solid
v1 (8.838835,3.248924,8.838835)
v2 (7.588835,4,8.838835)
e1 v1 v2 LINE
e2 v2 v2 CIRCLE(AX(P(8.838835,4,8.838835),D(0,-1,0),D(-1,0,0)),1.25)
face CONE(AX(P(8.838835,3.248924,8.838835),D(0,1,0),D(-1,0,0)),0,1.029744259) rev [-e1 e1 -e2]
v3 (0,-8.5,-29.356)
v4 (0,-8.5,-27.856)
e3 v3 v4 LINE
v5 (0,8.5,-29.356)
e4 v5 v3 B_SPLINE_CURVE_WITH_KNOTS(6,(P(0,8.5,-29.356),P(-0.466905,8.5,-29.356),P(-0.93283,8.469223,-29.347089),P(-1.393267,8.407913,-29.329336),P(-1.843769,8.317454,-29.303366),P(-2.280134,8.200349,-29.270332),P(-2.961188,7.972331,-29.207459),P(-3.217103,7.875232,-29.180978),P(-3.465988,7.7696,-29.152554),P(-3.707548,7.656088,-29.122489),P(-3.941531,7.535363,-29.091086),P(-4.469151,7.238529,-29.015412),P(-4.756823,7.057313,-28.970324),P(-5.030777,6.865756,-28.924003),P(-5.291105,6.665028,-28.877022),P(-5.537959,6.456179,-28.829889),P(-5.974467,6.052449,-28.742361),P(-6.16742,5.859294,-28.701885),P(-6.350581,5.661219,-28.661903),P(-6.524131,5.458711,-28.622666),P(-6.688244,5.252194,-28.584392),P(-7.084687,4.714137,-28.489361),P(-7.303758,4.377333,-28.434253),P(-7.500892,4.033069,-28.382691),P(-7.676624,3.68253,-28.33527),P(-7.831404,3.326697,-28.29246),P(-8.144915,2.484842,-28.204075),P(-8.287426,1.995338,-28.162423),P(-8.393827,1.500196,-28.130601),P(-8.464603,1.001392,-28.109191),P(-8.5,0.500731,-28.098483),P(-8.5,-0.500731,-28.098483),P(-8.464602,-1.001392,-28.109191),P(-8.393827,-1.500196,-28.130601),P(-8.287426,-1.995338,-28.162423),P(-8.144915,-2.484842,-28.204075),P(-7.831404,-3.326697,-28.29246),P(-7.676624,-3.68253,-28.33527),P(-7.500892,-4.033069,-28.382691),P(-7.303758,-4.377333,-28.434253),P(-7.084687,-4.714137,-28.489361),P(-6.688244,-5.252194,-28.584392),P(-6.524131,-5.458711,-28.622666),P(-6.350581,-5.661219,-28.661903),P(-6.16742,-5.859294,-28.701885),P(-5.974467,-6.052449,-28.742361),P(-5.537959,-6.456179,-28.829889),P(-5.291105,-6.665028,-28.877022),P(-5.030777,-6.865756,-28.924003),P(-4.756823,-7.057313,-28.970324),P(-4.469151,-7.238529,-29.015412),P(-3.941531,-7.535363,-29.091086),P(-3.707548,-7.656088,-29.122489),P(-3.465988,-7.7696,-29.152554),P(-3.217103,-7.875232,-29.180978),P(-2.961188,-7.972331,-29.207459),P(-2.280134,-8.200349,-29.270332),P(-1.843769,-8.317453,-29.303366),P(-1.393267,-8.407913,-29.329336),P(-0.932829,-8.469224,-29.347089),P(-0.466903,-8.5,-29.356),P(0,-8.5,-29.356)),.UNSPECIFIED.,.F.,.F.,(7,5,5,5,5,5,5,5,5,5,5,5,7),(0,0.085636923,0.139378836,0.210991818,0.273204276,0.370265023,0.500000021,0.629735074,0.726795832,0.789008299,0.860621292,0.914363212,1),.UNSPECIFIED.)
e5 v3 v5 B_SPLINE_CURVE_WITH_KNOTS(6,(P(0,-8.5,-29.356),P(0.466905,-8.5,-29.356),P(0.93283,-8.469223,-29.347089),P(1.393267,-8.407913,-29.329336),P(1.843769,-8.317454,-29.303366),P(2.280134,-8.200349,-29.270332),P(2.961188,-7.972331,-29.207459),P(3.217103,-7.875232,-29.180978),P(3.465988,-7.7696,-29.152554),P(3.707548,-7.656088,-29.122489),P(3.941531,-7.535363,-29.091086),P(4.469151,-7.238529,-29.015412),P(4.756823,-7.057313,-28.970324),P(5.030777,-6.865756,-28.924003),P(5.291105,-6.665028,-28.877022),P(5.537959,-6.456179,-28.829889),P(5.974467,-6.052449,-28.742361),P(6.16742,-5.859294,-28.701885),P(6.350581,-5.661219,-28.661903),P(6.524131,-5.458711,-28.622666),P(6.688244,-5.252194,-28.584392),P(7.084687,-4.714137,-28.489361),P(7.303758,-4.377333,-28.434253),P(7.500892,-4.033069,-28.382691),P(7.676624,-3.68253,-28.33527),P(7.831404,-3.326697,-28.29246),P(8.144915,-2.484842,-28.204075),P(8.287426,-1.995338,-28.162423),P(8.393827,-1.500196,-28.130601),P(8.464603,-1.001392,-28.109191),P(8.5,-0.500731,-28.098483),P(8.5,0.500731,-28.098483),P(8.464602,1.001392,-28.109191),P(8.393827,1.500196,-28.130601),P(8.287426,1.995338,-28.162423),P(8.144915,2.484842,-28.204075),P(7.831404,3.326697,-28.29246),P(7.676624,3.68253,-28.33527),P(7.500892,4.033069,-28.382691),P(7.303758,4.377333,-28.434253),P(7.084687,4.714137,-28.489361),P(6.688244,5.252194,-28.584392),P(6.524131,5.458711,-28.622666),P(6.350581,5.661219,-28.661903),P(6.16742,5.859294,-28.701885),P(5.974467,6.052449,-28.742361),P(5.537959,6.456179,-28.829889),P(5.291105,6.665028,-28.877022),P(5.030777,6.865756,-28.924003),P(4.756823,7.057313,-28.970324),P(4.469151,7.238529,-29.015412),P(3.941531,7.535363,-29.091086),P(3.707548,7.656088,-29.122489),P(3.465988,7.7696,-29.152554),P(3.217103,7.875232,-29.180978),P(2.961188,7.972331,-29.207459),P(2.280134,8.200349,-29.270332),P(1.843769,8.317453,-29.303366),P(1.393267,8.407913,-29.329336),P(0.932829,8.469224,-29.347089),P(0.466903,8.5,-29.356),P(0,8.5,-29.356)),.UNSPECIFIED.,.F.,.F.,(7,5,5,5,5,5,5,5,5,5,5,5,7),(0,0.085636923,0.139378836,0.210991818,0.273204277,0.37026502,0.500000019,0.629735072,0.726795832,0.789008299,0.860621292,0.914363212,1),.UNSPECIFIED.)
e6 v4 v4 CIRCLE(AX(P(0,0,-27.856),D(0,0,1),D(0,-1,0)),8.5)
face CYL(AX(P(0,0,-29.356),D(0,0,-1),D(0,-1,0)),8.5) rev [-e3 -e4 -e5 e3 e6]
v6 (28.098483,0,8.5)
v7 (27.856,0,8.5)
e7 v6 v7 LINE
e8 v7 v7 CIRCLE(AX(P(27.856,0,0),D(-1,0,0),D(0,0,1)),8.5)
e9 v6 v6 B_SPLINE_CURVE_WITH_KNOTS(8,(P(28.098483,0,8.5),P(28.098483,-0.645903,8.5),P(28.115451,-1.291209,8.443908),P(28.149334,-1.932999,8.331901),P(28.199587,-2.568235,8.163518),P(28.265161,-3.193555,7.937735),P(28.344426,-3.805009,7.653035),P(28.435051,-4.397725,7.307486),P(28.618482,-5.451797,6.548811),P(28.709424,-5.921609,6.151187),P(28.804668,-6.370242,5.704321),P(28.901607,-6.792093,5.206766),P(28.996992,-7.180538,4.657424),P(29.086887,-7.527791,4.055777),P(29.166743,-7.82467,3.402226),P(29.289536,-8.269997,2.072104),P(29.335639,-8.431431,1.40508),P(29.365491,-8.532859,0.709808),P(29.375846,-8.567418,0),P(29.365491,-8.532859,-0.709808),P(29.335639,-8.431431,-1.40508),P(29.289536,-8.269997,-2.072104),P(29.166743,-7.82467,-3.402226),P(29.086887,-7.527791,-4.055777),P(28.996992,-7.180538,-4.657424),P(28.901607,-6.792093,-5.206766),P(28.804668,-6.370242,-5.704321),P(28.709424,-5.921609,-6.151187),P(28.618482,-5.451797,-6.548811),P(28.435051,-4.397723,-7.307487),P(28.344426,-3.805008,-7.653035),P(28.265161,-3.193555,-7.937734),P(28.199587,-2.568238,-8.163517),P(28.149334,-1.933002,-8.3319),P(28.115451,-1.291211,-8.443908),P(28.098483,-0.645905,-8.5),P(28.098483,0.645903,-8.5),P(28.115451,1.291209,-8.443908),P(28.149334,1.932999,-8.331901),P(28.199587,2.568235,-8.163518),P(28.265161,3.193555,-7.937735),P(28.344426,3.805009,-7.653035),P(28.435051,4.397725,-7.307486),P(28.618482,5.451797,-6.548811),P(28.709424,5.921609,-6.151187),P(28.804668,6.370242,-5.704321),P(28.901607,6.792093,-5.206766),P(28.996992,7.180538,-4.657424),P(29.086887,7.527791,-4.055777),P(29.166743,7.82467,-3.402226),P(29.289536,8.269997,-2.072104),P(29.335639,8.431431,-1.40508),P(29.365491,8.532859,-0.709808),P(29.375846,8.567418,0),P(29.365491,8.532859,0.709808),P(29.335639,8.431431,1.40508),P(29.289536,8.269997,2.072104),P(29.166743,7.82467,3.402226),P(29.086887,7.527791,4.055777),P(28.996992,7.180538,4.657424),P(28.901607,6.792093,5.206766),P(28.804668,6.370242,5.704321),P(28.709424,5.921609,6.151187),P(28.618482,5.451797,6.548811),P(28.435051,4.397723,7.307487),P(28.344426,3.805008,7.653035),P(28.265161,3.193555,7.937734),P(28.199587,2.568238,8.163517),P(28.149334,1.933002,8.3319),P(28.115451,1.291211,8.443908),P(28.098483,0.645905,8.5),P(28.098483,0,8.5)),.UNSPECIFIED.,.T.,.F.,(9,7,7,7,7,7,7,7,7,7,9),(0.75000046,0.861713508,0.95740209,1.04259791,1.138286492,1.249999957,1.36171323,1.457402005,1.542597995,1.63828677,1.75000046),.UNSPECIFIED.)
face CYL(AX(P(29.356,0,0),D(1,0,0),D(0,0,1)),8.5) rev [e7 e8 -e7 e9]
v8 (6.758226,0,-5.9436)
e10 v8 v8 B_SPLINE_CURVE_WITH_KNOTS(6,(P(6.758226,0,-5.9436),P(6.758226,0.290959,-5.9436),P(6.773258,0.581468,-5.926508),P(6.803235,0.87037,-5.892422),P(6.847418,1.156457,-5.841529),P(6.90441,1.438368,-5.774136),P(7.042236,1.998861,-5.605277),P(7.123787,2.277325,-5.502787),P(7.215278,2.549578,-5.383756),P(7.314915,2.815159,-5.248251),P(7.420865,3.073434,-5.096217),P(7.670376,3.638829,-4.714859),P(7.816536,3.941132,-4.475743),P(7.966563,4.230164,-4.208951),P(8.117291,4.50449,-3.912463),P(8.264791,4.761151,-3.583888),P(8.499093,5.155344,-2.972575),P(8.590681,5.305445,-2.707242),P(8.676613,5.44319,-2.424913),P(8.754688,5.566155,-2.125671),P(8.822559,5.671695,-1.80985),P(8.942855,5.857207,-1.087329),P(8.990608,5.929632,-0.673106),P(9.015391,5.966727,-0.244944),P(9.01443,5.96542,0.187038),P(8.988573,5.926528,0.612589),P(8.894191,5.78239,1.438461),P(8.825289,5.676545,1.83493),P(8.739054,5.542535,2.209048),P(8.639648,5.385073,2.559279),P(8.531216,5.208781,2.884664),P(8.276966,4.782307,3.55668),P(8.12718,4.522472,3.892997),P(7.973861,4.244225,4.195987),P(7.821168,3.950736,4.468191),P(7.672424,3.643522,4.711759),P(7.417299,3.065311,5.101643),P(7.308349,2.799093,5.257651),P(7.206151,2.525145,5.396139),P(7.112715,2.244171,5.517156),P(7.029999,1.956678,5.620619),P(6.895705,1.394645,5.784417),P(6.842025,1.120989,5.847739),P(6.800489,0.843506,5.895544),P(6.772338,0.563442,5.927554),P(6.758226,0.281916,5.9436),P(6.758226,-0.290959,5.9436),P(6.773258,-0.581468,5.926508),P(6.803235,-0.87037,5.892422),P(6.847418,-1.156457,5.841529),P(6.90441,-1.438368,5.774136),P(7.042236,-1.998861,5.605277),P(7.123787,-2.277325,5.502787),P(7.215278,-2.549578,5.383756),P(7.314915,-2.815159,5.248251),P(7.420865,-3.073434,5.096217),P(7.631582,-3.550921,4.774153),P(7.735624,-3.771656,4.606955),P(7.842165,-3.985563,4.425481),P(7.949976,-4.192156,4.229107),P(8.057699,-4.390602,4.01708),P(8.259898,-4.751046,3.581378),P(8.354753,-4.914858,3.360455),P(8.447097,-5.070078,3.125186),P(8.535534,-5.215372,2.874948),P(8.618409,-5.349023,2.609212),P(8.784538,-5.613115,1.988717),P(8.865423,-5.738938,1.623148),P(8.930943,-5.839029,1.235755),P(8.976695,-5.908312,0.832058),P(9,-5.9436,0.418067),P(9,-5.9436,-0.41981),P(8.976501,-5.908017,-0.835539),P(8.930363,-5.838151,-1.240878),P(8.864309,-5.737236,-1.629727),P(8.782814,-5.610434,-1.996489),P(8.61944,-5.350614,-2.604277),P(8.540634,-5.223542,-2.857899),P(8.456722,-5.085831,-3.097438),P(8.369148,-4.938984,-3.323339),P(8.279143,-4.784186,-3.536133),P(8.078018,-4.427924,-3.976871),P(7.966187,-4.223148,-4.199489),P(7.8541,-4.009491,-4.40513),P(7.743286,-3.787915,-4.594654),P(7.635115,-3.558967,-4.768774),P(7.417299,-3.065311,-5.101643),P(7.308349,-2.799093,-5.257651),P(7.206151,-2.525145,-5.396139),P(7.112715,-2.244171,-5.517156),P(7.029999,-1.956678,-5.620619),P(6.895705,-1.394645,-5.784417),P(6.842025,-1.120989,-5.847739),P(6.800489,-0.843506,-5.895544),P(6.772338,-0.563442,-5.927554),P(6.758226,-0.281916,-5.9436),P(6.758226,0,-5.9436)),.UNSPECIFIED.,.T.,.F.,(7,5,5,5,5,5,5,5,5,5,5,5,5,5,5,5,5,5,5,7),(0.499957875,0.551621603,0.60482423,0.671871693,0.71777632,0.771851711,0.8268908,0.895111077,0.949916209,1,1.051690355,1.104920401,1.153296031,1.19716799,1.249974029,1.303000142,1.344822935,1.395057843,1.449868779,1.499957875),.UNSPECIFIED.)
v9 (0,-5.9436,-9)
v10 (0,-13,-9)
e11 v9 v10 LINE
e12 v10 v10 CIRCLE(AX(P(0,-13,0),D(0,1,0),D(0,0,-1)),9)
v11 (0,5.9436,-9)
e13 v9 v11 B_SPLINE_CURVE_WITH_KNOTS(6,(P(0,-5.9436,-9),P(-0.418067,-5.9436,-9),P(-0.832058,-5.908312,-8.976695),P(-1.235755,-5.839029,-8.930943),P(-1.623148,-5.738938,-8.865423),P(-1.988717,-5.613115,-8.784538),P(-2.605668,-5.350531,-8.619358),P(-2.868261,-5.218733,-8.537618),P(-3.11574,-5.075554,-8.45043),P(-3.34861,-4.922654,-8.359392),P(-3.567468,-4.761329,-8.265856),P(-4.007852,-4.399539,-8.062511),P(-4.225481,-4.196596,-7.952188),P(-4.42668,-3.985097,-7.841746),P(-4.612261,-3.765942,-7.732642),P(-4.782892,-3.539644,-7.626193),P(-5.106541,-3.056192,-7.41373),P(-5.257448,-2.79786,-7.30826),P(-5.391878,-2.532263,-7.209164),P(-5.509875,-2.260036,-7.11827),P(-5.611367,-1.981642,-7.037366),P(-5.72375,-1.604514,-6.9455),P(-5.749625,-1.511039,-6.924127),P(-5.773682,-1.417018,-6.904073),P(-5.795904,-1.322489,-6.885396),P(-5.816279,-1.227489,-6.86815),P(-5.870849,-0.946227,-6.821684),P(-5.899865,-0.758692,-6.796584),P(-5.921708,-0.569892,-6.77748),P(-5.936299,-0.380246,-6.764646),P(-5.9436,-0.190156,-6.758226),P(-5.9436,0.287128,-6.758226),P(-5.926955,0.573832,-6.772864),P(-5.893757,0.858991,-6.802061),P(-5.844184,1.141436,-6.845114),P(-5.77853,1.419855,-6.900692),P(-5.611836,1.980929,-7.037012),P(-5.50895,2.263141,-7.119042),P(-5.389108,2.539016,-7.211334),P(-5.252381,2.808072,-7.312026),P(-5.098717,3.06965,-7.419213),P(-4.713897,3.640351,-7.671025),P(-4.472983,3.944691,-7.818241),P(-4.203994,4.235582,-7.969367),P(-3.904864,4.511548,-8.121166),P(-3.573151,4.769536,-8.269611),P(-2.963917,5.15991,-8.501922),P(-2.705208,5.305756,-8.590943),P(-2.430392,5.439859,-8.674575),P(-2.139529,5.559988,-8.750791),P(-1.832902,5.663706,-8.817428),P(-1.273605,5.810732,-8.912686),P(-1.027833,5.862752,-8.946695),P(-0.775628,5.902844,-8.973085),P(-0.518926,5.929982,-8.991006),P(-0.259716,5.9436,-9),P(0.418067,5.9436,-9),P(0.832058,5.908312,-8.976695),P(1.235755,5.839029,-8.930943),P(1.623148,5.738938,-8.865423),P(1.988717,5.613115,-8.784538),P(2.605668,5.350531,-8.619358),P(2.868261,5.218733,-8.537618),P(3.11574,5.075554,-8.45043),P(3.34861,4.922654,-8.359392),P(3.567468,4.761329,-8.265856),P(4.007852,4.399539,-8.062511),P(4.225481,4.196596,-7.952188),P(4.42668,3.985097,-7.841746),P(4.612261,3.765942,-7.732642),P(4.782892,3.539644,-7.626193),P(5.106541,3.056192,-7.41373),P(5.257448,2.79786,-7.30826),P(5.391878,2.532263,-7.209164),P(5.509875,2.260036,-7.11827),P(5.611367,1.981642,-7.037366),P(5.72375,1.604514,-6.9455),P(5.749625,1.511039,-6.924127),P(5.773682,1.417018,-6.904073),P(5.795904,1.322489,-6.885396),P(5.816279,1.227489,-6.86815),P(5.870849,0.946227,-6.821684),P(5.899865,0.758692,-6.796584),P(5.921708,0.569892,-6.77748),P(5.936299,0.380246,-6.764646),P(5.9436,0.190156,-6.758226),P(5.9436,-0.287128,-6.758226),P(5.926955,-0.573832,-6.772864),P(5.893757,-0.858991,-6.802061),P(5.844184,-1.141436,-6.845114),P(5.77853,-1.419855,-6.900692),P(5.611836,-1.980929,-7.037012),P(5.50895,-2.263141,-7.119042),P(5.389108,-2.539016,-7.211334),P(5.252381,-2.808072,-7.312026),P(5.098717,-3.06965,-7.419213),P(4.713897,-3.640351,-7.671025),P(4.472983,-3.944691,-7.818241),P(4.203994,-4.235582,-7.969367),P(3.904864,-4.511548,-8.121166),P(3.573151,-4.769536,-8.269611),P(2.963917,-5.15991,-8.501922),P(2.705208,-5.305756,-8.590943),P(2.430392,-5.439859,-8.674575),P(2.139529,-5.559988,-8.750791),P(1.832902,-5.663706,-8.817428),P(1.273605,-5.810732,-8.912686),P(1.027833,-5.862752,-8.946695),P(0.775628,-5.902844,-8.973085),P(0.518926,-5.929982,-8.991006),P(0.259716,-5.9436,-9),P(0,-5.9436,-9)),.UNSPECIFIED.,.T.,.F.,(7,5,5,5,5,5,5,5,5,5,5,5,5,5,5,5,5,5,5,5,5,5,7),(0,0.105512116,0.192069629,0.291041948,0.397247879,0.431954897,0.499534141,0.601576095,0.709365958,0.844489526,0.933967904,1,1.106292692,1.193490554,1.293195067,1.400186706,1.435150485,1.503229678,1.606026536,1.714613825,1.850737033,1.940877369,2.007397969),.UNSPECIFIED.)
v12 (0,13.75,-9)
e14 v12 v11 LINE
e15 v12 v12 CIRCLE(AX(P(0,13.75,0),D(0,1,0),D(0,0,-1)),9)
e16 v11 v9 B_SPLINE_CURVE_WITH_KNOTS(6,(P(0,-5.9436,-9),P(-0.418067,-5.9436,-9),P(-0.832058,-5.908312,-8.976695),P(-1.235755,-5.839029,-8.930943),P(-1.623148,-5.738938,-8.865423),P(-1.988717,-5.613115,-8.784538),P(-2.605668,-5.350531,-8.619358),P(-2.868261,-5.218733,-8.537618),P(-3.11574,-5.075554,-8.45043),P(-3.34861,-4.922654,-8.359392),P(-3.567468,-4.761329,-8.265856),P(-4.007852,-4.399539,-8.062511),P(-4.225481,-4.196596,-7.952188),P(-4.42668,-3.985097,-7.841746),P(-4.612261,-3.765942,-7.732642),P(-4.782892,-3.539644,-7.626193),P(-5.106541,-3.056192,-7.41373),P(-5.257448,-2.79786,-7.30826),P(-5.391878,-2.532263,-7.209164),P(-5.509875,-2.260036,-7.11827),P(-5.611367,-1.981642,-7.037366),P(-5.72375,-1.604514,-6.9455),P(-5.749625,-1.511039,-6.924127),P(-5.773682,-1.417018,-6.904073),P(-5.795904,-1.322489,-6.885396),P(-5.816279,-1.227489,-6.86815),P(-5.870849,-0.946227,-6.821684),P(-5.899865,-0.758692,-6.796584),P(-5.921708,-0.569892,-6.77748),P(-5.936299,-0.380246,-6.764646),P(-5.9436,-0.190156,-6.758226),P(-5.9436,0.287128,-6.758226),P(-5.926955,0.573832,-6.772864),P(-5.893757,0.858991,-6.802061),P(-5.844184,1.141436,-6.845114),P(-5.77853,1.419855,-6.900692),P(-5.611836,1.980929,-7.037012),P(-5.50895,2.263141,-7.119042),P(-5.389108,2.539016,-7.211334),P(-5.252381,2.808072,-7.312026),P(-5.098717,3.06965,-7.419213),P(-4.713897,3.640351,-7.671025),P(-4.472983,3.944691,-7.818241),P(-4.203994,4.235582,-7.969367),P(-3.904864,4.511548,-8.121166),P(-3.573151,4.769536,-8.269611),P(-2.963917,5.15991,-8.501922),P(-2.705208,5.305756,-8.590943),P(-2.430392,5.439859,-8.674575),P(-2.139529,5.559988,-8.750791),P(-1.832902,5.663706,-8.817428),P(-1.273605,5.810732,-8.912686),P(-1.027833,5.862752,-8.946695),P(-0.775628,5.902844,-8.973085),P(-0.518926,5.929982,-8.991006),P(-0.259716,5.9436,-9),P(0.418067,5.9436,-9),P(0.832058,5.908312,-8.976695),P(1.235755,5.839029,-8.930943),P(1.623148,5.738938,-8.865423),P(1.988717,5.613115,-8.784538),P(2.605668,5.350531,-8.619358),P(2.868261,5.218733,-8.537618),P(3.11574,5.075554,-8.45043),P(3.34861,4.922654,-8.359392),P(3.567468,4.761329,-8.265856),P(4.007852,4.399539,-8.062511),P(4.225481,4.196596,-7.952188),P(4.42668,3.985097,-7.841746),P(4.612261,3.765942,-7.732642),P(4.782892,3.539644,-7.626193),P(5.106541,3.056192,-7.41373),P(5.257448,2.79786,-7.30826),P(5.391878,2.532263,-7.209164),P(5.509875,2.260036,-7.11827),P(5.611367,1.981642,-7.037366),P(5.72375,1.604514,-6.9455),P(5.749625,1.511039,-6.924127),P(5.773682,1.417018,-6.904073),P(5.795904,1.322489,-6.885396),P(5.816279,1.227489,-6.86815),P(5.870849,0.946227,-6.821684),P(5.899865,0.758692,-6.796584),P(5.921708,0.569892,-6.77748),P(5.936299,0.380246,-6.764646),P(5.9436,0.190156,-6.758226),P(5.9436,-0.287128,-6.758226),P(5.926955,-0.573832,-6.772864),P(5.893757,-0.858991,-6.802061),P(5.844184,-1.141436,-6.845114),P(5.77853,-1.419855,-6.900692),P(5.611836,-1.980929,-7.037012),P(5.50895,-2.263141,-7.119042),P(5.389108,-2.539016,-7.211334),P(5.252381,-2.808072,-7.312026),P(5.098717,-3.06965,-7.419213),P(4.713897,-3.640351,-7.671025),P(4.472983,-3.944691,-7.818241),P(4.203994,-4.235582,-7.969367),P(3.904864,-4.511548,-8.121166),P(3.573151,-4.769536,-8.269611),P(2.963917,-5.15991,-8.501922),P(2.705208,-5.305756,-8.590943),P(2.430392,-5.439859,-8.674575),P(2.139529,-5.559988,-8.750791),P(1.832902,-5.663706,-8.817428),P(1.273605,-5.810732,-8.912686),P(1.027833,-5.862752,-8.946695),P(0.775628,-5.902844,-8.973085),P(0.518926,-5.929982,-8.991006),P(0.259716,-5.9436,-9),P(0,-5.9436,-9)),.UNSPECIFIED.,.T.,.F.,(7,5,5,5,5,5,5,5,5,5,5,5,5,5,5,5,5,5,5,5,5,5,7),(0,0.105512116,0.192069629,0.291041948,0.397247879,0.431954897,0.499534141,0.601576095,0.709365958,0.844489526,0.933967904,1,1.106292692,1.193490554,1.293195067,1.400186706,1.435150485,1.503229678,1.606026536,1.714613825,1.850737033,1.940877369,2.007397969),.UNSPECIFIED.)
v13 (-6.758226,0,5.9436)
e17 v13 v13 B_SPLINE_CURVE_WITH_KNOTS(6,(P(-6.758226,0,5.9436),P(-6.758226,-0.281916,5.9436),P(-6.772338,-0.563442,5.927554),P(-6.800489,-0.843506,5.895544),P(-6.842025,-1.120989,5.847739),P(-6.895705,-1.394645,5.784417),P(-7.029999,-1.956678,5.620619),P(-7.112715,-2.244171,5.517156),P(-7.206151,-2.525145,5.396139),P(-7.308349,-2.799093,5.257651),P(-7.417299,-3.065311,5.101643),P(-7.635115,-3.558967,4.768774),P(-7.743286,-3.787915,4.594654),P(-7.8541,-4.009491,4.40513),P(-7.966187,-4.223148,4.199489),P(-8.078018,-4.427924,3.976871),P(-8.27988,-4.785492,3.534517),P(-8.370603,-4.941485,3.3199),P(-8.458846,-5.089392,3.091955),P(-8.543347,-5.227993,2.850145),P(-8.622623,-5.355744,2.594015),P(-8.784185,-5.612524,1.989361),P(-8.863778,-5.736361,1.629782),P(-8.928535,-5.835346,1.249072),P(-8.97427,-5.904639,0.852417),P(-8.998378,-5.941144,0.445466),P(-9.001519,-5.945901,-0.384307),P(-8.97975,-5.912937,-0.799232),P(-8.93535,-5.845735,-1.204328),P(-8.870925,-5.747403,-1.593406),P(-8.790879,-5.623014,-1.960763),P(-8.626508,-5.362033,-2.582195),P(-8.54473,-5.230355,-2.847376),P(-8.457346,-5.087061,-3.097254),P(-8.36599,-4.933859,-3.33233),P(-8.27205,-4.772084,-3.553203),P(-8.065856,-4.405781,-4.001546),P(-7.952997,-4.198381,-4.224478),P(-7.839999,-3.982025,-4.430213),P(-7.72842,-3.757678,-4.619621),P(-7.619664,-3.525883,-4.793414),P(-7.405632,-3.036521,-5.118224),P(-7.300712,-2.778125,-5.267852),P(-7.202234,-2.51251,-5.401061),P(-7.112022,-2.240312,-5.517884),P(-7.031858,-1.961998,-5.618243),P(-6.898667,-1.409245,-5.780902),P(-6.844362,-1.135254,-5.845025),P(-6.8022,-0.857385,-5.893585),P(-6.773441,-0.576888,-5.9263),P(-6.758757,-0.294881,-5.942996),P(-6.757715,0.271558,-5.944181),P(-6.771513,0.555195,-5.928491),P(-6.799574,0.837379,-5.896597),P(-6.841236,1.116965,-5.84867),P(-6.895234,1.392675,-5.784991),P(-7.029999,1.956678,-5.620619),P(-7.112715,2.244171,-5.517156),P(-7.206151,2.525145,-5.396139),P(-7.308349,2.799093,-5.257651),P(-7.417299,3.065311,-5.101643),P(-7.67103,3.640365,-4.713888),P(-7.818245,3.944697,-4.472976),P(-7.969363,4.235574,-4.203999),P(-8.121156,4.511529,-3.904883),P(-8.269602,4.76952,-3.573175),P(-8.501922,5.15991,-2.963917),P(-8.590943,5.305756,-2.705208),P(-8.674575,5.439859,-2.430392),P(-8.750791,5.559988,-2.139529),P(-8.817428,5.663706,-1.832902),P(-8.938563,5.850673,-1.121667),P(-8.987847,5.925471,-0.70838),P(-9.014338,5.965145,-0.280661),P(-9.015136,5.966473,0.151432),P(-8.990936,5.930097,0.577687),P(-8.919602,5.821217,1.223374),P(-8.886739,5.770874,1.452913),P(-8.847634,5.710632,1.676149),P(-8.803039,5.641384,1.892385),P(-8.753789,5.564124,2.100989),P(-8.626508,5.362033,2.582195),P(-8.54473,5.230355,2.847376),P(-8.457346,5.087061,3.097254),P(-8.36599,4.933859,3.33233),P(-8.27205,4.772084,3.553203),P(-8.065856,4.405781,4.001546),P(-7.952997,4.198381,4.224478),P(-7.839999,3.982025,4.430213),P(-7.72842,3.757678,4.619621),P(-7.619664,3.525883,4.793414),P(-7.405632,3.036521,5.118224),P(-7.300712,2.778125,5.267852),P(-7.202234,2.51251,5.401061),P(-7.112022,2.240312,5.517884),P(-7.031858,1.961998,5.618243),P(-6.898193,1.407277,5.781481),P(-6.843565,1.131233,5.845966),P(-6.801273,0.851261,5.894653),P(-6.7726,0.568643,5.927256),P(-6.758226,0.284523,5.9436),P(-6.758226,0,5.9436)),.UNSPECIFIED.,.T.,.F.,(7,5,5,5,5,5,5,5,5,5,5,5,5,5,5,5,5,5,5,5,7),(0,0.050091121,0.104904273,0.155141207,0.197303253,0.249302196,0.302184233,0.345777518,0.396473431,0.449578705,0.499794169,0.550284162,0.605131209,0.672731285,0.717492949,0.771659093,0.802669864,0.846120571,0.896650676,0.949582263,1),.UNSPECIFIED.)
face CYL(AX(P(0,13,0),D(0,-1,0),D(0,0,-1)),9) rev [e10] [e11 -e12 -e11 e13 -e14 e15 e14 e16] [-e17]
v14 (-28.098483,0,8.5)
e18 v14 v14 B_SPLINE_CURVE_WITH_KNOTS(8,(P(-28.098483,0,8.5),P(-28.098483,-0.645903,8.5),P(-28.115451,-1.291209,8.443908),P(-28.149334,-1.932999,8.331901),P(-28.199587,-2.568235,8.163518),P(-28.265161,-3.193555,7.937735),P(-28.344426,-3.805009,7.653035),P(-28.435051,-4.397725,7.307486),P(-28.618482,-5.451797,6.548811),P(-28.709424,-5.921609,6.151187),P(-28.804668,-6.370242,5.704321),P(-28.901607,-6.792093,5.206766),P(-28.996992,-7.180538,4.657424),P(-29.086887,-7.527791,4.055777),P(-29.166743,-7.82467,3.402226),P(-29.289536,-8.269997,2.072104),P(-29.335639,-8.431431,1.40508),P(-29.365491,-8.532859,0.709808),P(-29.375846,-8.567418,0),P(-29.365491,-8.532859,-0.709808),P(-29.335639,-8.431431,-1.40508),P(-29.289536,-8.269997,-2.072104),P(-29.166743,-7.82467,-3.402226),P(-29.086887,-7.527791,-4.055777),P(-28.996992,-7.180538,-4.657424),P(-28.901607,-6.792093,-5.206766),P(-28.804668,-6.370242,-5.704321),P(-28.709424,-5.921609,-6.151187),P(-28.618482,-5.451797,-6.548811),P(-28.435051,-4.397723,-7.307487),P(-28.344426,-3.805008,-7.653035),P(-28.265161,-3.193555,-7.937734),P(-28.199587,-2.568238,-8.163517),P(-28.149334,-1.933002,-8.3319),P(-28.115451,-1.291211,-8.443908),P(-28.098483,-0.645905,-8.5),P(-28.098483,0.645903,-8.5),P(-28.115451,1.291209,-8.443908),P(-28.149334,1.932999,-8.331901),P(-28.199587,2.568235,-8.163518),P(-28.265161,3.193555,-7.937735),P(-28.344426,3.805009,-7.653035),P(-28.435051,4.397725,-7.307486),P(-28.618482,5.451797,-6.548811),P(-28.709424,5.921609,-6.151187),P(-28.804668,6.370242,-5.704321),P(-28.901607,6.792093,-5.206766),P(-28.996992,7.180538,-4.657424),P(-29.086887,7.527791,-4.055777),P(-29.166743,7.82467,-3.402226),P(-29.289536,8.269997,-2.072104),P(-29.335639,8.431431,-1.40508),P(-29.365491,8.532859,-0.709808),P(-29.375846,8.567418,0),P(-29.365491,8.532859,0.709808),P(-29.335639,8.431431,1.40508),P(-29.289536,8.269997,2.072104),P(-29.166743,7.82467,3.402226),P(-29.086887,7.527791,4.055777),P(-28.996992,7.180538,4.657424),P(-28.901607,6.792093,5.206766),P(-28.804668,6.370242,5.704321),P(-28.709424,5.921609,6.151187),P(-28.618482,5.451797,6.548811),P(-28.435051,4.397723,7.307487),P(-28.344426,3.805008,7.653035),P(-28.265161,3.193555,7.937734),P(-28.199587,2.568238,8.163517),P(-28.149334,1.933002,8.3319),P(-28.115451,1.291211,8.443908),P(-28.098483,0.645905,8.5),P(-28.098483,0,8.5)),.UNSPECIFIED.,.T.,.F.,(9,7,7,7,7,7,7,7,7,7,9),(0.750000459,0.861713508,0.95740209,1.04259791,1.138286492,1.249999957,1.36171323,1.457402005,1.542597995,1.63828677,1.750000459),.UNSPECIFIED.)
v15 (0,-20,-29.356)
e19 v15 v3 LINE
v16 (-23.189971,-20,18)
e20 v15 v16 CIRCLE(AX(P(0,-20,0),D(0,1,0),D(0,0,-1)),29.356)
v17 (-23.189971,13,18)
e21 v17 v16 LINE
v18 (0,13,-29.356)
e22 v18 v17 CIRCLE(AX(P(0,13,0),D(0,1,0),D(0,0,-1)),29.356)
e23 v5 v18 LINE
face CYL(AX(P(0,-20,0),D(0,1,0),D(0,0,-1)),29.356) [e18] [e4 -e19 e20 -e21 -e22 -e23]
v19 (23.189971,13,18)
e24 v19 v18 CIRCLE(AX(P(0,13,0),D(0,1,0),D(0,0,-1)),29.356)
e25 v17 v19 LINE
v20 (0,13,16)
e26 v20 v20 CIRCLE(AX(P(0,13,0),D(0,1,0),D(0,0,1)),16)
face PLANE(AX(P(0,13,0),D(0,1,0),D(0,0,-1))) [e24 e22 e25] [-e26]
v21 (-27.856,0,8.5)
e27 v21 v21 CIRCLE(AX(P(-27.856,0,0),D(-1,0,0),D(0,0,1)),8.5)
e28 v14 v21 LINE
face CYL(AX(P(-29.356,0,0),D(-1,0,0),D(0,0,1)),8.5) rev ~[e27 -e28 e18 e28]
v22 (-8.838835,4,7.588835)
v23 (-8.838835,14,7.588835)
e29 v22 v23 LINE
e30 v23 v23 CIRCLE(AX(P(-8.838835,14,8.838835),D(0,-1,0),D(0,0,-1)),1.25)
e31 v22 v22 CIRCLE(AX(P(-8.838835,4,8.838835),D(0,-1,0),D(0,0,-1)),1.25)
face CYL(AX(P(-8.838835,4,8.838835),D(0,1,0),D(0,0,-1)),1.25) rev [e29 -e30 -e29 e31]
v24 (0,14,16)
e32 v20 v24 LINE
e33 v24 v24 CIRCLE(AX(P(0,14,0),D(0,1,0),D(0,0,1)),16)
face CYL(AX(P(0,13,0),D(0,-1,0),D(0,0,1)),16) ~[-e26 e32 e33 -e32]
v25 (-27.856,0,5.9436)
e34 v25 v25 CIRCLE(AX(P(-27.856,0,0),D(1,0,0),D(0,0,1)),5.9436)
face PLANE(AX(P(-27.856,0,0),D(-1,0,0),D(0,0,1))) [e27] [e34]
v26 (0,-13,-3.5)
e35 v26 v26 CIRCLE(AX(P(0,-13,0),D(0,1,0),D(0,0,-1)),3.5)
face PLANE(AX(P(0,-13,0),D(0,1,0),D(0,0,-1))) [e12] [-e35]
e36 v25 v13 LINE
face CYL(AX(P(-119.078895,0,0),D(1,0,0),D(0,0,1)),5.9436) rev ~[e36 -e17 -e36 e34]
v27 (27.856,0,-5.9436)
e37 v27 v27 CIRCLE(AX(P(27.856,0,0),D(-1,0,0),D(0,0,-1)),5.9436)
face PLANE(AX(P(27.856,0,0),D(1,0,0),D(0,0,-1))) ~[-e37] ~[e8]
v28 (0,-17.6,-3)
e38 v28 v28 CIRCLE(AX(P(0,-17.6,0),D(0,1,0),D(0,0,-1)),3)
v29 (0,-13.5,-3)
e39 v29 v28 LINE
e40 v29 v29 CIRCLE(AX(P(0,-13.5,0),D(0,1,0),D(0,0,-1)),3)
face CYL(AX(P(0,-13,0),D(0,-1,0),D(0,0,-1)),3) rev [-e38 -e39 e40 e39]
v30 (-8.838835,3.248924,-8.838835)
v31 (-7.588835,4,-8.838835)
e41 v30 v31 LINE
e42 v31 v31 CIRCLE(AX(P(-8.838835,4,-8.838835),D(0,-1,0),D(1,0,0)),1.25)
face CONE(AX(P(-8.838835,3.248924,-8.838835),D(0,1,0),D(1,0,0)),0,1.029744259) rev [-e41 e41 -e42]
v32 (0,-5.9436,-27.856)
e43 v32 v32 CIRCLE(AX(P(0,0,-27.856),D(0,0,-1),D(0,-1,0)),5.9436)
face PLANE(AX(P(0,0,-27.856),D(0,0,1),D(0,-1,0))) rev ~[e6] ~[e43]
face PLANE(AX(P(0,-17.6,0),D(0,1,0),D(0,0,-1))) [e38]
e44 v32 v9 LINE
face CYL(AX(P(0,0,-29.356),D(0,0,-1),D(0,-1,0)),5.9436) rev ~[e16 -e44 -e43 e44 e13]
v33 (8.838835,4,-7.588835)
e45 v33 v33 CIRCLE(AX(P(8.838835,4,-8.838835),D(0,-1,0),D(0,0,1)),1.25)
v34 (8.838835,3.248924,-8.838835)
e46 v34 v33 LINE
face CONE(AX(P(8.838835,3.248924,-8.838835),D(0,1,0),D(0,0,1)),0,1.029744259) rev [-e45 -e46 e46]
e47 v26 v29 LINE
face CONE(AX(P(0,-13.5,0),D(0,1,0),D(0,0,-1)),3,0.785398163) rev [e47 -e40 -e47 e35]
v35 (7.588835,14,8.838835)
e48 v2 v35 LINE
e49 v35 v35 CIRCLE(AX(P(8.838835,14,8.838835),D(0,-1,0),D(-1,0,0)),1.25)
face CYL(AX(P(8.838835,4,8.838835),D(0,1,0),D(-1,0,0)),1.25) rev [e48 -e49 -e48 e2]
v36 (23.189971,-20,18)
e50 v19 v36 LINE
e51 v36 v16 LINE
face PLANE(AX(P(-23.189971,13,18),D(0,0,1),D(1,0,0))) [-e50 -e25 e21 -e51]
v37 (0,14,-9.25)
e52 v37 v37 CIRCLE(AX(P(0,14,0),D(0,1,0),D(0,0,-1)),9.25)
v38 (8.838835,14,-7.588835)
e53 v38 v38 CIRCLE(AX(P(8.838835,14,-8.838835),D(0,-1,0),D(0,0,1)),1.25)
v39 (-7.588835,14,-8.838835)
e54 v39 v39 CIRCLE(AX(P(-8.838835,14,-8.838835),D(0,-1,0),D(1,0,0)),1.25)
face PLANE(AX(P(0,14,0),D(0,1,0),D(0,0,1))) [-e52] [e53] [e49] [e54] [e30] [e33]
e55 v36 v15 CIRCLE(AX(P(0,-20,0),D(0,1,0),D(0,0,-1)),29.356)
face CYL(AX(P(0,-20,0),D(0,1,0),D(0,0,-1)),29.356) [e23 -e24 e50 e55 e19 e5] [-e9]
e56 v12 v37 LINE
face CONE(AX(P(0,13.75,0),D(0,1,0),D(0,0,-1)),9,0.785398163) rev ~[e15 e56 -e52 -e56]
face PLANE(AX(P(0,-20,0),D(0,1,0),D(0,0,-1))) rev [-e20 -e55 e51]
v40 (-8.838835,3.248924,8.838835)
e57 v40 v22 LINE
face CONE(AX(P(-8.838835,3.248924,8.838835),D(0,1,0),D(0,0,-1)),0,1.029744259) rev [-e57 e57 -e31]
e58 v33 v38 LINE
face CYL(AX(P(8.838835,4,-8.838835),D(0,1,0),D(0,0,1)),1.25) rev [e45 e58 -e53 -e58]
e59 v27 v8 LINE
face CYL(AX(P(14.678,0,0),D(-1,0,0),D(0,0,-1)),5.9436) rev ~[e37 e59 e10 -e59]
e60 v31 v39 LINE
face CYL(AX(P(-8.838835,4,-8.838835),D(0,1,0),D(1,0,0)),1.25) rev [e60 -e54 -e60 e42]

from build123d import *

# Parameters (mm, degrees)
ESBO_O4_W                           = 5.9436
ESBO_O4_H                           = 29.356
FURO_ROSCADO_DE_1_4_18_NPSM3_REACH  = 70.621
FURO_ROSCADO_DE_1_4_18_NPSM3_BORE_R = 5.9436
ESBO_O12_R                          = 16
ESBO_O12_R_2                        = 9
RESSALTO_EXTRUS_O1_DEPTH            = 1
PADR_OCIRCULAR5_COUNT               = 4
CHANFRO1_SIZE                       = 0.5
CHANFRO2_SIZE                       = 0.25
FURO_ROSCADO_DE_1_4_18_NPSM2_D      = 11.8872
ESBO_O18_R                          = 8.5
CORTE_EXTRUS_O4_DEPTH               = 1.5
ESBO_O20_R                          = 8.5
CORTE_EXTRUS_O5_DEPTH               = 1.5
CORTE_EXTRUS_O6_DEPTH               = 54.033475186


with BuildPart() as part:
    # Esboço1 → Revolução1 (revolve)
    with BuildSketch(Plane.XY, mode=Mode.PRIVATE) as revolu_o1_sk:
        Polygon((0, -20), (29.356, -20), (29.356, 13), (9, 13), (9, -13), (3, -13), (3, -17.6), (0, -17.6), align=None)
    revolve(revolu_o1_sk.sketch.rotate(Axis((0, -20, 0), (0, 1, 0)), 90), axis=Axis((0, -20, 0), (0, 1, 0)))

    # Esboço4 → Furo roscado de 1/4-18 NPSM1 (revolve, cut)
    with BuildSketch(Plane(origin=(29.356, 0, 0), x_dir=(0, 0, -1), z_dir=(0, 1, 0))):
        with Locations((2.9718, 14.678)):
            Rectangle(ESBO_O4_W, ESBO_O4_H)
    revolve(axis=Axis((35.706, 0, 0), (-1, 0, 0)), mode=Mode.SUBTRACT)

    # Furo roscado de 1/4-18 NPSM3 bore → Furo roscado de 1/4-18 NPSM3 (cut, up to next)
    with BuildSketch(Plane(origin=(0, 0, -29.356), x_dir=(0, -1, 0), z_dir=(0, 0, -1)), mode=Mode.PRIVATE) as furo_roscado_de_1_4_18_npsm3_sk1:
        Circle(FURO_ROSCADO_DE_1_4_18_NPSM3_BORE_R)
    furo_roscado_de_1_4_18_npsm3_tool1 = extrude(furo_roscado_de_1_4_18_npsm3_sk1.sketch, amount=-FURO_ROSCADO_DE_1_4_18_NPSM3_REACH, mode=Mode.PRIVATE) & part.part
    add(furo_roscado_de_1_4_18_npsm3_tool1.solids().sort_by_distance((0, 0, -29.356))[0], mode=Mode.SUBTRACT)

    # Esboço12 → Ressalto-extrusão1 (add)
    with BuildSketch(Plane(origin=(0, 13, 0), x_dir=(1, 0, 0), z_dir=(0, 1, 0))):
        with Locations(Location((0, 0, 0), (0, 0, 270))):
            Circle(ESBO_O12_R)
        with Locations(Location((0, 0, 0), (0, 0, 90))):
            Circle(ESBO_O12_R_2, mode=Mode.SUBTRACT)
    extrude(amount=RESSALTO_EXTRUS_O1_DEPTH)

    # Esboço13 → Furo roscado de M3x0.51 (revolve, cut)
    with BuildSketch(Plane(origin=(8.838834765, 14, -8.838834765), x_dir=(0, 0, 1), z_dir=(1, 0, 0))):
        Polygon((0, 0), (0, 10.751075774), (1.25, 10), (1.25, 0), align=None)
    furo_roscado_de_m3x0_51 = revolve(axis=Axis((8.838834765, 20.35, -8.838834765), (0, -1, 0)), mode=Mode.SUBTRACT)

    # PadrãoCircular5: Furo roscado de M3x0.51 ×4 about axis
    padr_ocircular5_axis = Axis((0, 0, 0), (0, 1, 0))
    for i in range(1, PADR_OCIRCULAR5_COUNT):
        add(furo_roscado_de_m3x0_51.rotate(padr_ocircular5_axis, i * 360 / PADR_OCIRCULAR5_COUNT), mode=Mode.SUBTRACT)

    # Chanfro1
    chanfro1_edges = [part.edges().sort_by_distance(p)[0] for p in [
        (0, -13, 3),
    ]]
    chamfer(chanfro1_edges, length=CHANFRO1_SIZE)

    # Chanfro2
    chanfro2_edges = [part.edges().sort_by_distance(p)[0] for p in [
        (0, 14, 9),
    ]]
    chamfer(chanfro2_edges, length=CHANFRO2_SIZE)

    # Furo roscado de 1/4-18 NPSM2 (through all)
    with Locations(Plane(origin=(-29.356, 0, 0), x_dir=(0, 0, -1), z_dir=(-1, 0, 0))):
        with Locations((0, 0)):
            Hole(FURO_ROSCADO_DE_1_4_18_NPSM2_D / 2)

    # Esboço18 → Corte-extrusão4 (cut)
    with BuildSketch(Plane(origin=(-29.356, 0, 0), x_dir=(0, -1, 0), z_dir=(-1, 0, 0))):
        with Locations(Location((0, 0, 0), (0, 0, 90))):
            Circle(ESBO_O18_R)
    corte_extrus_o4 = extrude(amount=-CORTE_EXTRUS_O4_DEPTH, mode=Mode.SUBTRACT)

    # Esboço20 → Corte-extrusão5 (cut)
    with BuildSketch(Plane(origin=(0, 0, -29.356), x_dir=(0, -1, 0), z_dir=(0, 0, 1))):
        Circle(ESBO_O20_R)
    extrude(amount=CORTE_EXTRUS_O5_DEPTH, mode=Mode.SUBTRACT)

    # Espelhar1: Corte-extrusão4 across plane
    add(corte_extrus_o4.mirror(Plane(origin=(0, 0, 0), x_dir=(0, 0, 1), z_dir=(1, 0, 0))), mode=Mode.SUBTRACT)

    # Esboço21 → Corte-extrusão6 (cut, through all)
    with BuildSketch(Plane(origin=(0, 13, 0), x_dir=(1, 0, 0), z_dir=(0, 1, 0))):
        with BuildLine():
            Line((-23.189970591, -18), (23.189970591, -18))
            ThreePointArc((23.189970591, -18), (0, -29.356), (-23.189970591, -18))
        make_face()
    extrude(amount=-CORTE_EXTRUS_O6_DEPTH, mode=Mode.SUBTRACT)


solid = part.part
